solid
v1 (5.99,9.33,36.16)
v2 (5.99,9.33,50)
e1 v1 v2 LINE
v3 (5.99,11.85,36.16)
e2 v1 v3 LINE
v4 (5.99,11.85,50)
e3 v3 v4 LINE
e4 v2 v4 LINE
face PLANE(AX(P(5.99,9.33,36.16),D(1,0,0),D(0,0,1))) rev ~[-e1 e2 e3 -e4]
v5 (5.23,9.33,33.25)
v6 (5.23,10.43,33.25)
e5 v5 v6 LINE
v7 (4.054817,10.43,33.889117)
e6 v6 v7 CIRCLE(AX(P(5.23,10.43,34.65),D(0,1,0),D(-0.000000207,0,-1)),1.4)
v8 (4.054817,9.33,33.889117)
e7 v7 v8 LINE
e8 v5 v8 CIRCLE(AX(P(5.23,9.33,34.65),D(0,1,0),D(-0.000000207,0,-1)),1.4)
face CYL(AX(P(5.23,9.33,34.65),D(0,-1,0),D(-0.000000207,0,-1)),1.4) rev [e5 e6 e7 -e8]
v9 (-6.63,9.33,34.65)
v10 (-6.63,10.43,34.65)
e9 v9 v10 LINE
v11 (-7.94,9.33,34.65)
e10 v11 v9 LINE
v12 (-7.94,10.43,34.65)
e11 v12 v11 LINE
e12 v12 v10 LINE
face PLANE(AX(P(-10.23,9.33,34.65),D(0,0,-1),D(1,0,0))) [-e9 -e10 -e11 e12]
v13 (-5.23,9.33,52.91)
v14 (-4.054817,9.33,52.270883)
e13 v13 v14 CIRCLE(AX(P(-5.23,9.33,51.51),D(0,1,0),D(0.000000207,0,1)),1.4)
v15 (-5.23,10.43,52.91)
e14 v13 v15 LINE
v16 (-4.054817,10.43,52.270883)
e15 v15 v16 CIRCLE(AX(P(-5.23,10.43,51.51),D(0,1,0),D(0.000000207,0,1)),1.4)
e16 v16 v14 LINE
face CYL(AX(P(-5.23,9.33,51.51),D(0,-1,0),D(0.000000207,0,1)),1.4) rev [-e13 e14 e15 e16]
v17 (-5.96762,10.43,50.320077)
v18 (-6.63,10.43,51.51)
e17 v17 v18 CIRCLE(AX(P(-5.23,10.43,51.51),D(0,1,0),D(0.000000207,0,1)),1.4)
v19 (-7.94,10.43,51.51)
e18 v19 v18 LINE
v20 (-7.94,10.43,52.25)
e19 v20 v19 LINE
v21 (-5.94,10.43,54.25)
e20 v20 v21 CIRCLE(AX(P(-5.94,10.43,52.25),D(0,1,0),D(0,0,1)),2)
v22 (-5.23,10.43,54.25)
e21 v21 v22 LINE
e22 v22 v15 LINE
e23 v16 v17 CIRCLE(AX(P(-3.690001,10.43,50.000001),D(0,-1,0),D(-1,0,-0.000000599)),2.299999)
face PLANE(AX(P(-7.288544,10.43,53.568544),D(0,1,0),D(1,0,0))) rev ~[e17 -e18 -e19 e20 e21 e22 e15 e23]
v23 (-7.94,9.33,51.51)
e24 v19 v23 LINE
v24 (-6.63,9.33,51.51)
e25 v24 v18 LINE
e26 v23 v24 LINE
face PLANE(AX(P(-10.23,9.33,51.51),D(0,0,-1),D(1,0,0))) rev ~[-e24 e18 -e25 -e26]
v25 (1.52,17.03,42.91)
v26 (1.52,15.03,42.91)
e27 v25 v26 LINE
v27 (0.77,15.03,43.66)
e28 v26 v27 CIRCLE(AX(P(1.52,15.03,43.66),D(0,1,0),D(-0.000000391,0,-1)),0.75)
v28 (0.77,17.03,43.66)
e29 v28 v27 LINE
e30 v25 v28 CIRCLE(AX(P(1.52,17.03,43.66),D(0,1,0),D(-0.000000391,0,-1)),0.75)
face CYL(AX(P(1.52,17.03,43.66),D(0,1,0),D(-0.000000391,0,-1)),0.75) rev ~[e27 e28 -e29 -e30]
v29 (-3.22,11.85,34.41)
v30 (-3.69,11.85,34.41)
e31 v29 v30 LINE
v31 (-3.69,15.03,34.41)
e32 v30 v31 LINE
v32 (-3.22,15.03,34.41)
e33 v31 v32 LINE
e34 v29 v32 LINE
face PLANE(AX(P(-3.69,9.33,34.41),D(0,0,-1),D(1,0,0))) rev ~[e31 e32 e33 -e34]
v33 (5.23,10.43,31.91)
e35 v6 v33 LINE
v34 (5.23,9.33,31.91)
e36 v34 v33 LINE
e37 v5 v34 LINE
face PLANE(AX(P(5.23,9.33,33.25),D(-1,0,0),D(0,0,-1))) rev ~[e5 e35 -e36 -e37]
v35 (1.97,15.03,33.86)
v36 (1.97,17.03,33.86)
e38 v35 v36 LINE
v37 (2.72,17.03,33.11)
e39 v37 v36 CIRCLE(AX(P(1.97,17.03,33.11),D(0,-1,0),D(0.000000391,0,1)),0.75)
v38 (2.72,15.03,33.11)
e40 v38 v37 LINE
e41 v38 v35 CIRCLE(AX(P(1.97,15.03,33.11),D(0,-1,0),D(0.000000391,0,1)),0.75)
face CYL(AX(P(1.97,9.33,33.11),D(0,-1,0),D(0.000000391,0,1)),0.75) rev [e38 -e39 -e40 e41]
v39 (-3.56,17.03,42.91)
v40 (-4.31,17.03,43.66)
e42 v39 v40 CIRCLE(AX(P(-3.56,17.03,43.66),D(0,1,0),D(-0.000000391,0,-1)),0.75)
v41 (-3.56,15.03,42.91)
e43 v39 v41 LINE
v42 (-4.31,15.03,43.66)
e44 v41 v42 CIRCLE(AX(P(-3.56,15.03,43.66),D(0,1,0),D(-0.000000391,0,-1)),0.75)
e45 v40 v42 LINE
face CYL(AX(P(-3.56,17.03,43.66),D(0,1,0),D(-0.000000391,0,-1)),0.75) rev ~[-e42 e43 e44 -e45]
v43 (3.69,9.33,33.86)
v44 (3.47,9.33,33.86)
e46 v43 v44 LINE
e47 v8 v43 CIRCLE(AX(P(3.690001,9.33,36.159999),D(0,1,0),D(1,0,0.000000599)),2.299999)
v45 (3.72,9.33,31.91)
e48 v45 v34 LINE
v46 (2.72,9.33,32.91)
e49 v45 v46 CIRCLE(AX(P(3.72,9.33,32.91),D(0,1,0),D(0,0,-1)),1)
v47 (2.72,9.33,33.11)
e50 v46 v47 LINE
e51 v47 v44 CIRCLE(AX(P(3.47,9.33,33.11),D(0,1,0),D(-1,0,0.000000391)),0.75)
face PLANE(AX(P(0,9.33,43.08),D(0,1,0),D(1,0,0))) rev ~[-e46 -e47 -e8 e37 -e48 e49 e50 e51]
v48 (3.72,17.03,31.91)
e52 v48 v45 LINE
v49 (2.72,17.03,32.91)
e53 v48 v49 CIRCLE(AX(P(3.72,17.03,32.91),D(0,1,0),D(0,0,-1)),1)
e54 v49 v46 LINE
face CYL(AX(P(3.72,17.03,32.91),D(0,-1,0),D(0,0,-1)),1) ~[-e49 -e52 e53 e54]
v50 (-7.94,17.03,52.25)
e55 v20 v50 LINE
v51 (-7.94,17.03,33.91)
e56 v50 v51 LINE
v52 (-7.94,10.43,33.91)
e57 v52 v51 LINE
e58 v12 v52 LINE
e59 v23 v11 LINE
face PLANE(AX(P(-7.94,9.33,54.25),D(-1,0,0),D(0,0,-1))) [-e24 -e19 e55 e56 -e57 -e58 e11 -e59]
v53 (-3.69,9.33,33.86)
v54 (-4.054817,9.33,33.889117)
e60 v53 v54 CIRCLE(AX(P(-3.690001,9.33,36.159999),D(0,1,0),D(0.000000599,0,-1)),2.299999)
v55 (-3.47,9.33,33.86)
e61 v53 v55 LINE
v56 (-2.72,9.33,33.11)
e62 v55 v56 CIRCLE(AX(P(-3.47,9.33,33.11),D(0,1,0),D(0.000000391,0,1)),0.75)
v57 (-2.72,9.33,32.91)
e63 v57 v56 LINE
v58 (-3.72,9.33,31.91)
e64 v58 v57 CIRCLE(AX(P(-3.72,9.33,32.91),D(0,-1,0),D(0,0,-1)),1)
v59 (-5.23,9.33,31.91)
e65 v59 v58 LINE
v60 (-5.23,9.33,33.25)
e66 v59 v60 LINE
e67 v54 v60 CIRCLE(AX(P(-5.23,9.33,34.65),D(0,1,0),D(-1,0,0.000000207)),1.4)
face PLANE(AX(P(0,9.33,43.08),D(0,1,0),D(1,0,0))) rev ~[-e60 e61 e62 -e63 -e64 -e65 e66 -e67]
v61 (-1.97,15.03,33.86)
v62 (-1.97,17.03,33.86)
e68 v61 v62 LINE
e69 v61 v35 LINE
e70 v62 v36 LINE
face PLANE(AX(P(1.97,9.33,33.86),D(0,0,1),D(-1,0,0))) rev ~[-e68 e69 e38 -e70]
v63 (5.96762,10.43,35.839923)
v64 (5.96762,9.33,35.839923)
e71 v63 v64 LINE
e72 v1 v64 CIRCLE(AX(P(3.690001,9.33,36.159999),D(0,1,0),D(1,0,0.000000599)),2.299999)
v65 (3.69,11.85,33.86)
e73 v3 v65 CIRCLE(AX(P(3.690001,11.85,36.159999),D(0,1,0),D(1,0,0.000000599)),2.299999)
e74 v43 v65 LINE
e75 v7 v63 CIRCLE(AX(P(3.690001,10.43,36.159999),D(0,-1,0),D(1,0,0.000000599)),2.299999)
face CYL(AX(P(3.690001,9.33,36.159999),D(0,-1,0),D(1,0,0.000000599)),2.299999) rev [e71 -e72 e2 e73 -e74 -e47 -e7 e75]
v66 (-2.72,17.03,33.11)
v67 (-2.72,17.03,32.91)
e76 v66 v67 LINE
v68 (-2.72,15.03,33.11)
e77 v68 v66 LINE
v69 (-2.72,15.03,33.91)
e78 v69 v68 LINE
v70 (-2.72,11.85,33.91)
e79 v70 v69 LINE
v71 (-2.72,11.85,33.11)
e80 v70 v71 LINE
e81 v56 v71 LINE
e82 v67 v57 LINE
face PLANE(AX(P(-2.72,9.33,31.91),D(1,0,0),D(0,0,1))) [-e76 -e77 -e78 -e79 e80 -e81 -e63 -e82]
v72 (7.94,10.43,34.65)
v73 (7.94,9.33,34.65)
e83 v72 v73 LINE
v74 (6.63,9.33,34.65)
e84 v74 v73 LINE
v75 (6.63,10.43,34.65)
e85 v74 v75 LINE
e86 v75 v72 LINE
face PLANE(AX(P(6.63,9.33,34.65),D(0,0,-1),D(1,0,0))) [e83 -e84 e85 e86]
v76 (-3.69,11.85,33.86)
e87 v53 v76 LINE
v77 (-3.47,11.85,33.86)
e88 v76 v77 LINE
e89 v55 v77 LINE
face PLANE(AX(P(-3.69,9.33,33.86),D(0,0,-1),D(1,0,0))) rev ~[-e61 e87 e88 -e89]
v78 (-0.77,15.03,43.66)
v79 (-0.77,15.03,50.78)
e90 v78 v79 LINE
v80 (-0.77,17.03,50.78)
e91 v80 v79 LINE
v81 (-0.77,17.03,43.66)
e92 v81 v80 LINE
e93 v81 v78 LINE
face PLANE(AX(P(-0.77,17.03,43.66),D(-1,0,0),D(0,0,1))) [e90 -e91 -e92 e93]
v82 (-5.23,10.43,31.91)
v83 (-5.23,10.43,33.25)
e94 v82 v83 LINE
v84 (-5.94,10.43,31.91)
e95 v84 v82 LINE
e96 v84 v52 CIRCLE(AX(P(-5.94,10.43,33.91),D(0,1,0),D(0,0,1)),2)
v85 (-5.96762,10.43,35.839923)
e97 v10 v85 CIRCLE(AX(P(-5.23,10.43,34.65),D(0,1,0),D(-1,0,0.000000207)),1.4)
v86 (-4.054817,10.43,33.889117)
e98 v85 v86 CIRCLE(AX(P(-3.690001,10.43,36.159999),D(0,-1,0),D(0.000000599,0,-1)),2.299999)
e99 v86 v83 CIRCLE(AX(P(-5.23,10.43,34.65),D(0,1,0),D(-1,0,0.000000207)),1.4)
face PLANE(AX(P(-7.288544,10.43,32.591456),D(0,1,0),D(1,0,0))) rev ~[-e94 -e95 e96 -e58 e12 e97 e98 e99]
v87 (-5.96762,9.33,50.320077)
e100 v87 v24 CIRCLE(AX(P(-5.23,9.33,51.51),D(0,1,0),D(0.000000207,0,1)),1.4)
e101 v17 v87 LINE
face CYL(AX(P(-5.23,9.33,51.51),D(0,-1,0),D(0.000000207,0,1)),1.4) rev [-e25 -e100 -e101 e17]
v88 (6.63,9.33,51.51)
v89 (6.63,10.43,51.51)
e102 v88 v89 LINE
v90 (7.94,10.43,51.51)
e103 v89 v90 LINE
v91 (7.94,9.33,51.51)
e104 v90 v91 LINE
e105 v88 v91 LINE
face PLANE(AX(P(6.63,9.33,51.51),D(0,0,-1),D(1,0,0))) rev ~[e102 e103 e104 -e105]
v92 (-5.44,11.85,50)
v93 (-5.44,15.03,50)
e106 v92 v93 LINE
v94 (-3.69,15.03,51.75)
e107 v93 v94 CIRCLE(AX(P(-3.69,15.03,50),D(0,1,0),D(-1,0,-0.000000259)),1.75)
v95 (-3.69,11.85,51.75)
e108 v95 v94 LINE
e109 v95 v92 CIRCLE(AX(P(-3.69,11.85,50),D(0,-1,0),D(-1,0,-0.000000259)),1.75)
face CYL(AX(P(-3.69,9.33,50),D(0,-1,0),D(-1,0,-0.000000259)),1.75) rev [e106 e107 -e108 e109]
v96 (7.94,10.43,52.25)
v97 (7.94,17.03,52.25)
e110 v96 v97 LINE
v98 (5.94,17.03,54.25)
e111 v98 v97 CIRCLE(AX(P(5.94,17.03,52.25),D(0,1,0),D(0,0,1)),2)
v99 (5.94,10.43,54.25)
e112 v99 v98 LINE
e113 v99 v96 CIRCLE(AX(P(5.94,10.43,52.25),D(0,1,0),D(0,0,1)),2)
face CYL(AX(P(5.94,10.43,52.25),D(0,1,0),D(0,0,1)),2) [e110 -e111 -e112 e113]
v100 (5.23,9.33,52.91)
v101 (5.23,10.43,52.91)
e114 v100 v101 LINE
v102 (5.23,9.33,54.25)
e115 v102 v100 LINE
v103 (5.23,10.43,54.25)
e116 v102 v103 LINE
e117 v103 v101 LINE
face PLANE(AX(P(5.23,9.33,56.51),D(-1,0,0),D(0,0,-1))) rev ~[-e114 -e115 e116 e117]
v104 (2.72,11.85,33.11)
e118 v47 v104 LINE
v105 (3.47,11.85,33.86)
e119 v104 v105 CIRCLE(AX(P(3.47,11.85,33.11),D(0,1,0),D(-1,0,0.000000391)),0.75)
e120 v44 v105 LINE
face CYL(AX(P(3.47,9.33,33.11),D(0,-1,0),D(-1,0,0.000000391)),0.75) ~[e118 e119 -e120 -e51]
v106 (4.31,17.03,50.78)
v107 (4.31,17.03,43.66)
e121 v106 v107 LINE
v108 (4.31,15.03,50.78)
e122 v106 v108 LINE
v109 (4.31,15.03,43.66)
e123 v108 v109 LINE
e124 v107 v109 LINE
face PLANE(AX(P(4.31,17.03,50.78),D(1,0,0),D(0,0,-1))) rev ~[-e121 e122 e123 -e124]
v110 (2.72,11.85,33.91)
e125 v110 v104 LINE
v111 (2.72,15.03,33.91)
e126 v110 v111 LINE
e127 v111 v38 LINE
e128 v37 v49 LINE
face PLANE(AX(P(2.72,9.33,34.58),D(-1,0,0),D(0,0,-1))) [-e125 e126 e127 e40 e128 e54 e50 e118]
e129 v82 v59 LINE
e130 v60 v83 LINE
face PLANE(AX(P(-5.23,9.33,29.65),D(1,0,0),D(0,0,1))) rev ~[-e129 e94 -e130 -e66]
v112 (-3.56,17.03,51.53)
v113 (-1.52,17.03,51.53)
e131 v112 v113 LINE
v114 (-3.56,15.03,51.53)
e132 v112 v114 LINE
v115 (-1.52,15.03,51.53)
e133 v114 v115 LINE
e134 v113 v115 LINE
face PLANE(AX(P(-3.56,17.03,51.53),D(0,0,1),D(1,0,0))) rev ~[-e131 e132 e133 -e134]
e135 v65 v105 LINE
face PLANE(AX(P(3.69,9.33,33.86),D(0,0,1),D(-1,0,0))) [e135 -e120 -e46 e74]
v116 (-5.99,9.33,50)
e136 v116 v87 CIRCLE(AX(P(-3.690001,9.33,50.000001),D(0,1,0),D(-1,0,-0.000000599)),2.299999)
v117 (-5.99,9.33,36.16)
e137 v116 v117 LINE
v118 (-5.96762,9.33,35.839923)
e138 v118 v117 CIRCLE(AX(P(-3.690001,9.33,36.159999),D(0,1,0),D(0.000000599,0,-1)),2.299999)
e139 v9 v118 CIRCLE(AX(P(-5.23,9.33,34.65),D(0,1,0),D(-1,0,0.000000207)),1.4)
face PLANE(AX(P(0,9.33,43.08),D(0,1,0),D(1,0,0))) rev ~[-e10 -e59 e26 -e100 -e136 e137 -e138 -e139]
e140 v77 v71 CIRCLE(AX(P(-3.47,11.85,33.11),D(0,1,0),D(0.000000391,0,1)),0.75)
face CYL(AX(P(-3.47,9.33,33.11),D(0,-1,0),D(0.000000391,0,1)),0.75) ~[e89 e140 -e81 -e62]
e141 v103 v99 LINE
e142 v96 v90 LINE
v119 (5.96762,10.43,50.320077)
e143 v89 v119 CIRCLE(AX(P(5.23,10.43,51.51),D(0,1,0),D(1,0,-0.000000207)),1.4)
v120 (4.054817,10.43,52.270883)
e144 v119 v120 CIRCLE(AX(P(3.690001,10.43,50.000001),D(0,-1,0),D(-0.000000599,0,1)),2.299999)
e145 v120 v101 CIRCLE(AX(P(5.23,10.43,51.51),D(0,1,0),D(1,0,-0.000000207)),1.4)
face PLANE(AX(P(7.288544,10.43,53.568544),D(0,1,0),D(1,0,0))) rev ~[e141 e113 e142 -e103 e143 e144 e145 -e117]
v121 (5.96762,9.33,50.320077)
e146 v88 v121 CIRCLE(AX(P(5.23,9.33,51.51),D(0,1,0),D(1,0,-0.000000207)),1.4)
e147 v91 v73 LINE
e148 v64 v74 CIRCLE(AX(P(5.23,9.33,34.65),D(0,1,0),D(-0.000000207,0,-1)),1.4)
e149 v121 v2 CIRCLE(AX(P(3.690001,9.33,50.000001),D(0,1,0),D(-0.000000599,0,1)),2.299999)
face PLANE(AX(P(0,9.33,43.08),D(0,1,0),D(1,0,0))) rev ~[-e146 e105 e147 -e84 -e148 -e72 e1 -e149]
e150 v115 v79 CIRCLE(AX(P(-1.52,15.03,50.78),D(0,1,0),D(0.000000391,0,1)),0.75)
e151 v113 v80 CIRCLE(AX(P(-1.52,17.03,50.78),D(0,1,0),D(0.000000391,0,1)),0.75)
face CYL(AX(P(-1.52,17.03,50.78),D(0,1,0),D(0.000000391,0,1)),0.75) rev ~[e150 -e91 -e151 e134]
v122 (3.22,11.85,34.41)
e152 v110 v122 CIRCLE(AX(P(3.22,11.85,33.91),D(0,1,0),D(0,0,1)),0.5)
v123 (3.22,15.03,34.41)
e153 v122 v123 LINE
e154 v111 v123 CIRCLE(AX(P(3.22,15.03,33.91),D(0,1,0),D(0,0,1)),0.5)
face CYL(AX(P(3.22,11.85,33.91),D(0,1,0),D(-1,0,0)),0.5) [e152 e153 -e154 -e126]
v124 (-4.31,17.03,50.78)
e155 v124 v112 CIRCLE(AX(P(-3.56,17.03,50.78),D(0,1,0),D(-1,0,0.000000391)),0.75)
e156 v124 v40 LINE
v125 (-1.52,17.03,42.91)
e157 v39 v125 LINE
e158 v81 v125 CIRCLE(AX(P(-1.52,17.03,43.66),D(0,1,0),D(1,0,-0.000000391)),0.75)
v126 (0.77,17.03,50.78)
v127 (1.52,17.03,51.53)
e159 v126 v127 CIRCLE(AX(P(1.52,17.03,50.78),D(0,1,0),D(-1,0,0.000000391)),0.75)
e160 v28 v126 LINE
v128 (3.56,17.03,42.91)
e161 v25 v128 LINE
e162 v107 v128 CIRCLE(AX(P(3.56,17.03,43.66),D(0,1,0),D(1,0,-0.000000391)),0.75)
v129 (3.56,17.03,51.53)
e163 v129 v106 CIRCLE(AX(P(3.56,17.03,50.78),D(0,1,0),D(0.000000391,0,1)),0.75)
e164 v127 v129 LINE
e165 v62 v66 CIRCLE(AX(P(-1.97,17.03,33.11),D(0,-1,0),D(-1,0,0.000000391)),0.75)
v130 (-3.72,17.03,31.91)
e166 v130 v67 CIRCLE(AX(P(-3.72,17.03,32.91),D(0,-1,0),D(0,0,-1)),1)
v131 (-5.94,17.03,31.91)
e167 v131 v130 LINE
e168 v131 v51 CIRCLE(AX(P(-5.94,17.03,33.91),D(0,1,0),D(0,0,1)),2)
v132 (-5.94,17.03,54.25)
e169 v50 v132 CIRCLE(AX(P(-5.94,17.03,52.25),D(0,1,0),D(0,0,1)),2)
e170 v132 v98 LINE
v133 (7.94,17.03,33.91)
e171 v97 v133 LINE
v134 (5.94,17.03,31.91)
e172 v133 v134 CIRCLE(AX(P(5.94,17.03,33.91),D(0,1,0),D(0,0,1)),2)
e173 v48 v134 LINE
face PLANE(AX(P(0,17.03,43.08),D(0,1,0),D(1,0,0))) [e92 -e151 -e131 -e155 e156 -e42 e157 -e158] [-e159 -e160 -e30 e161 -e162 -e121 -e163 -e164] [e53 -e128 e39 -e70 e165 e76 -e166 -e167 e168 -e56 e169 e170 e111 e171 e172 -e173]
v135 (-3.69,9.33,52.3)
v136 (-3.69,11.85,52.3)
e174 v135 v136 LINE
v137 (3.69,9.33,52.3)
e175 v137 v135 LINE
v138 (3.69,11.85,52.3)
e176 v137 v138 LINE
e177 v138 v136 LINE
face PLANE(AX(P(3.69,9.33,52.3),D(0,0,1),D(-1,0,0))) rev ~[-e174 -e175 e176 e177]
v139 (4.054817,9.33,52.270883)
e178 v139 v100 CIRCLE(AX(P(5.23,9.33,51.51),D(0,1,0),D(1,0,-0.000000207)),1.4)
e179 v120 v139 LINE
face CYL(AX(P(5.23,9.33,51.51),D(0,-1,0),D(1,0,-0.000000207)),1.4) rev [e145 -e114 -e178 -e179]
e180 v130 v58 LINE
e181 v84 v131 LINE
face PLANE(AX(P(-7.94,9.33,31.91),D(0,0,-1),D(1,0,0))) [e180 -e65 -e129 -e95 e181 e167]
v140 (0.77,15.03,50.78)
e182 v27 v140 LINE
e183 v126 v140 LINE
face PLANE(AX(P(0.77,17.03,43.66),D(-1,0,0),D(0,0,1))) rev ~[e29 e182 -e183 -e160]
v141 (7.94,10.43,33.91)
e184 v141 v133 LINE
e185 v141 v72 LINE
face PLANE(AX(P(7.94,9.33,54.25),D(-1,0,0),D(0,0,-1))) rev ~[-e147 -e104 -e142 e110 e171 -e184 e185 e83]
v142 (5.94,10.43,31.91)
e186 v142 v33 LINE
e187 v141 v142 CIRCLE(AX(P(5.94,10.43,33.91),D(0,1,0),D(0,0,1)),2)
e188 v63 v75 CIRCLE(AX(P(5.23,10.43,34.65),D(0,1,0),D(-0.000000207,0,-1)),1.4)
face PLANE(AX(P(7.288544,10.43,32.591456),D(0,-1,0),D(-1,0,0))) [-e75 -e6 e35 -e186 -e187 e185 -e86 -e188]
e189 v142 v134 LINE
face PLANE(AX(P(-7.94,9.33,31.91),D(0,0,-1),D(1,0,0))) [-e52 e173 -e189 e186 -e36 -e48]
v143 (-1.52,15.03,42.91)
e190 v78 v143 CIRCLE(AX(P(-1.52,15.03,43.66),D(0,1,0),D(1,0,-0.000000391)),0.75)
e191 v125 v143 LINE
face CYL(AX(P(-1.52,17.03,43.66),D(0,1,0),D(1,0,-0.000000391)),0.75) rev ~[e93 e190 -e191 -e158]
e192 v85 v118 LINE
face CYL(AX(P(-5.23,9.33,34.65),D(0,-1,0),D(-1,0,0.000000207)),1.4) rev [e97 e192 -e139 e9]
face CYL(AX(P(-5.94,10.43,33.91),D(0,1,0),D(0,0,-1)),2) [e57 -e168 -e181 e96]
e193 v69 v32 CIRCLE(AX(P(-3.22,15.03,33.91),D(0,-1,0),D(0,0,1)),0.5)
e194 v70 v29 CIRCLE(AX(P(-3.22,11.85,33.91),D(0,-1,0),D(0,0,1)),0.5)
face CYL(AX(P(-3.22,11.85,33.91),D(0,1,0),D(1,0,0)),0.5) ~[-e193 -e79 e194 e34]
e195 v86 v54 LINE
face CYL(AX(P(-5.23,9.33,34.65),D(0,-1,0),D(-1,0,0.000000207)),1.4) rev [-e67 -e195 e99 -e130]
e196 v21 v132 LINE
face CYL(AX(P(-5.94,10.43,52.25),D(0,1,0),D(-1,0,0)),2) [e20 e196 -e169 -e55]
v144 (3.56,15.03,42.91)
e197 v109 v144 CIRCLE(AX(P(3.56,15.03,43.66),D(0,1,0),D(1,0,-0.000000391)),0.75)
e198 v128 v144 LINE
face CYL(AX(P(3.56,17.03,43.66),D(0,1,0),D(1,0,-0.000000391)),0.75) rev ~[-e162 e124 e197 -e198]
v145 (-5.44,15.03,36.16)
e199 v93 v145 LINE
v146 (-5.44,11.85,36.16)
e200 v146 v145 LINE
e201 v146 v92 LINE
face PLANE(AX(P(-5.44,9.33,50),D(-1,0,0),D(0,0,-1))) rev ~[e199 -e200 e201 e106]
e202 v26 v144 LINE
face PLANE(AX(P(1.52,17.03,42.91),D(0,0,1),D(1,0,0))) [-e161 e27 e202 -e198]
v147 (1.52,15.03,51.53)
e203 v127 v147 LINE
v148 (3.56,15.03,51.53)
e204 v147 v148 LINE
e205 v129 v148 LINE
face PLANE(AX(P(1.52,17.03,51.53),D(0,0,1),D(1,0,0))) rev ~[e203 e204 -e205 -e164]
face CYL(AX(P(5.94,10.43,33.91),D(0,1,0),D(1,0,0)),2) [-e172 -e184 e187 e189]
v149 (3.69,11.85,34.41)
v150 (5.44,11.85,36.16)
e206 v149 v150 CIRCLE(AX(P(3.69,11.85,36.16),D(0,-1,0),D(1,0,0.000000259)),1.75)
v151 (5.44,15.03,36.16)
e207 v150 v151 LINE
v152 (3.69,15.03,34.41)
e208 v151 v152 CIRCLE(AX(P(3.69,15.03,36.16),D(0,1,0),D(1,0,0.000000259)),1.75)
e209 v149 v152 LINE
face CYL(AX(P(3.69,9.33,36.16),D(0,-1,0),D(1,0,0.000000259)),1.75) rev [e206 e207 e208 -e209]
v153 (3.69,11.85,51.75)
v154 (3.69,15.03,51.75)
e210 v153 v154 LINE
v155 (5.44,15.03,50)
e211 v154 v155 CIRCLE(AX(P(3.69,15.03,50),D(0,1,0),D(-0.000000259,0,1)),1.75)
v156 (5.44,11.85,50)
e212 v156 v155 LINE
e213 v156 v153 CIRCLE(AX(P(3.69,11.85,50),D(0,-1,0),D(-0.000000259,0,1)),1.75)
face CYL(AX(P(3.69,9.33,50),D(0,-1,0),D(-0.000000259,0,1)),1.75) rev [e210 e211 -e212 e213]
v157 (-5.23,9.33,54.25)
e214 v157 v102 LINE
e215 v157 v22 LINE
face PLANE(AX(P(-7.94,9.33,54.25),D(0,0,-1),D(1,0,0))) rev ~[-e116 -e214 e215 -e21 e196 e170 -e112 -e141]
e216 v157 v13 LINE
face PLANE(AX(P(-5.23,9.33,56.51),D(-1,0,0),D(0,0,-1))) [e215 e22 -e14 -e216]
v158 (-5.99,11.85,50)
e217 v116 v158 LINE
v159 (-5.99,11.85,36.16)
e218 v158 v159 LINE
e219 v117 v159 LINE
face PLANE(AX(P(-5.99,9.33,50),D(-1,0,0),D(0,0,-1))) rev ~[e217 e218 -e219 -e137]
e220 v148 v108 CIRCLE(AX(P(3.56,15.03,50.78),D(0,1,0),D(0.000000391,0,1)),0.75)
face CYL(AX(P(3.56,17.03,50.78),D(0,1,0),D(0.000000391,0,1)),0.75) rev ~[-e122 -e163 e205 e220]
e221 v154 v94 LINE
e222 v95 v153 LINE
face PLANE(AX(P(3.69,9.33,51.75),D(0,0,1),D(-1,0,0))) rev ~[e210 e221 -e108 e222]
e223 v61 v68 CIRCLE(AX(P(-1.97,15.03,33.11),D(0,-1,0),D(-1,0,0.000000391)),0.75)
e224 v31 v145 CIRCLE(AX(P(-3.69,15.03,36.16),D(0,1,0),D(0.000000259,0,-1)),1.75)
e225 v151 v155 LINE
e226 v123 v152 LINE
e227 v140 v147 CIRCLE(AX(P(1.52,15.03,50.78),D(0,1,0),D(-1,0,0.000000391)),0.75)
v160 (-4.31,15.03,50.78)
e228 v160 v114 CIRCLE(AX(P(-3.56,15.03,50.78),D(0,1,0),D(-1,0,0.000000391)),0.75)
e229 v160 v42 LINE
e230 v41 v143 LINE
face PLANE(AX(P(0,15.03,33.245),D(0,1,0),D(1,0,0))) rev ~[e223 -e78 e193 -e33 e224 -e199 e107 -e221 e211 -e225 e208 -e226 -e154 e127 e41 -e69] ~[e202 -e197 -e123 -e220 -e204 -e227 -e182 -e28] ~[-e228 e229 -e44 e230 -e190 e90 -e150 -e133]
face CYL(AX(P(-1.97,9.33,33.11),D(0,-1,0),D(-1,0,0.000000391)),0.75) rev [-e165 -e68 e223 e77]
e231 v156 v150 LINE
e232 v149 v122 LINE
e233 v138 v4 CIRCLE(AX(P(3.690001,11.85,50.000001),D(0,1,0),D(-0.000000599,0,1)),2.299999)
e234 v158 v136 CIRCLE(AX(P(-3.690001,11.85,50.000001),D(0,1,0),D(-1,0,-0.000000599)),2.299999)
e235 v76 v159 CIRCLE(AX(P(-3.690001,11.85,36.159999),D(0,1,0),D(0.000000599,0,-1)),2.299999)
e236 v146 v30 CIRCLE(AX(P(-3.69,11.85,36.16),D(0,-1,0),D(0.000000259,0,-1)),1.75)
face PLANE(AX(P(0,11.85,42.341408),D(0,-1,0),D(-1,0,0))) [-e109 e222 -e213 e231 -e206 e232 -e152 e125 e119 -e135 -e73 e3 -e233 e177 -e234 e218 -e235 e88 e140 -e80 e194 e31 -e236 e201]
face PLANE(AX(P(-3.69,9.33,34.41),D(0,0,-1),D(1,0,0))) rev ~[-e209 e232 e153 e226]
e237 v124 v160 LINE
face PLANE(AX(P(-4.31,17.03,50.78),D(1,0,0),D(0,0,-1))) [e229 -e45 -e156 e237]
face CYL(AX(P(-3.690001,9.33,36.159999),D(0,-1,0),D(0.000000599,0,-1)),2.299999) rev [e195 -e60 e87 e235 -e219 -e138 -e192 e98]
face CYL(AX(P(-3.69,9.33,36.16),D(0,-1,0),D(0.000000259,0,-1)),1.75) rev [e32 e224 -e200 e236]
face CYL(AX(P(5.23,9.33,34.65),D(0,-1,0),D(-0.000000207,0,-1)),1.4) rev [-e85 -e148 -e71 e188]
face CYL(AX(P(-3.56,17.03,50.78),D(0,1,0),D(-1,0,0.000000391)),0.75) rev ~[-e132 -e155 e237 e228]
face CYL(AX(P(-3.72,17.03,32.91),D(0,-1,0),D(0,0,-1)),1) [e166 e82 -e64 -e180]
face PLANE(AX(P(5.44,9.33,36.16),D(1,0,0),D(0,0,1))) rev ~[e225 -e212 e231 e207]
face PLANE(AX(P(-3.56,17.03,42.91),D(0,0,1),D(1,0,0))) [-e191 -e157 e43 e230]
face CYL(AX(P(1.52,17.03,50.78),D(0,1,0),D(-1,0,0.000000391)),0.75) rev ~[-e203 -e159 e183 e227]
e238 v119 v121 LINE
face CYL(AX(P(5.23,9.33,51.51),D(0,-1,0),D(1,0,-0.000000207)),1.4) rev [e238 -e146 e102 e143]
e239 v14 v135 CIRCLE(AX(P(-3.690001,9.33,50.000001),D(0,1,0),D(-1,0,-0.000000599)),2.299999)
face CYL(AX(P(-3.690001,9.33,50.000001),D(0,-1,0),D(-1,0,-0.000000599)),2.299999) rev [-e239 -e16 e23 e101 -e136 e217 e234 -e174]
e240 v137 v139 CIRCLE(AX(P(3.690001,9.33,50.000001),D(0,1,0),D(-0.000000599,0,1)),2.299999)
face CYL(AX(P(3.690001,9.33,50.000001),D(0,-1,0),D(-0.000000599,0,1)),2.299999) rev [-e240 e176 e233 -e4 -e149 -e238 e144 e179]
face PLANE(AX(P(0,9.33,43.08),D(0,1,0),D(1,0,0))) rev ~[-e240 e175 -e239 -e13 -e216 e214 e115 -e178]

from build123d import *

# Parameters (mm, degrees)
SKETCH003_W             = 15.88
SKETCH003_H             = 22.34
PAD001_DEPTH            = 7.7
POCKET002_DEPTH         = 5.7
POCKET003_DEPTH         = 2.52
SKETCH007_W             = 5.44
SKETCH007_H             = 2.67
POCKET004_DEPTH         = 5.7
POCKET005_DEPTH         = 7.701
POCKET006_DEPTH         = 2
POCKET007_DEPTH         = 1.1
FILLET_R                = 1
FILLET001_R             = 2
FILLET011_R             = 0.5
BODY001_PLACEMENT_ANGLE = 270


with BuildPart() as part:
    # Sketch003 (on XY_Plane013 of Origin026) → Pad001 (new body)
    with BuildSketch(Plane.XY):
        Rectangle(SKETCH003_W, SKETCH003_H)
    extrude(amount=PAD001_DEPTH)

    # Sketch004 (on XY_Plane013 of Origin026) → Pocket002 (cut)
    with BuildSketch(Plane.XY):
        with BuildLine():
            Line((-3.69, 8.67), (3.69, 8.67))
            ThreePointArc((5.44, 6.92), (4.927437, 8.157437), (3.69, 8.67))
            Line((5.44, 6.92), (5.44, -6.92))
            ThreePointArc((3.69, -8.67), (4.927437, -8.157437), (5.44, -6.92))
            Line((3.69, -8.67), (-3.69, -8.67))
            ThreePointArc((-5.44, -6.92), (-4.927437, -8.157437), (-3.69, -8.67))
            Line((-5.44, -6.92), (-5.44, 6.92))
            ThreePointArc((-3.69, 8.67), (-4.927437, 8.157437), (-5.44, 6.92))
        make_face()
    extrude(amount=POCKET002_DEPTH, mode=Mode.SUBTRACT)

    # Sketch006 (on XY_Plane013 of Origin026) → Pocket003 (cut)
    with BuildSketch(Plane.XY):
        with BuildLine():
            Line((5.99, 6.92), (5.99, -6.92))
            ThreePointArc((3.69, -9.22), (5.316346, -8.546346), (5.99, -6.92))
            Line((3.69, -9.22), (-3.69, -9.22))
            ThreePointArc((-5.99, -6.92), (-5.316346, -8.546346), (-3.69, -9.22))
            Line((-5.99, -6.92), (-5.99, 6.92))
            ThreePointArc((-3.69, 9.22), (-5.316346, 8.546346), (-5.99, 6.92))
            Line((-3.69, 9.22), (-3.47, 9.22))
            ThreePointArc((-3.47, 9.22), (-2.93967, 9.43967), (-2.72, 9.97))
            Line((-2.72, 11.17), (-2.72, 9.97))
            Line((2.72, 11.17), (-2.72, 11.17))
            Line((2.72, 11.17), (2.72, 9.97))
            ThreePointArc((2.72, 9.97), (2.93967, 9.43967), (3.47, 9.22))
            Line((3.69, 9.22), (3.47, 9.22))
            ThreePointArc((5.99, 6.92), (5.316346, 8.546346), (3.69, 9.22))
        make_face()
    extrude(amount=POCKET003_DEPTH, mode=Mode.SUBTRACT)

    # Sketch007 (on XY_Plane013 of Origin026) → Pocket004 (cut)
    with BuildSketch(Plane.XY):
        with Locations((0, 9.835)):
            Rectangle(SKETCH007_W, SKETCH007_H)
    extrude(amount=POCKET004_DEPTH, mode=Mode.SUBTRACT)

    # Sketch008 (on XY_Plane013 of Origin026) → Pocket005 (cut, through all)
    with BuildSketch(Plane.XY):
        with BuildLine():
            Line((2.72, 11.17), (2.72, 9.97))
            ThreePointArc((1.97, 9.22), (2.50033, 9.43967), (2.72, 9.97))
            Line((1.97, 9.22), (-1.97, 9.22))
            ThreePointArc((-2.72, 9.97), (-2.50033, 9.43967), (-1.97, 9.22))
            Line((-2.72, 11.17), (-2.72, 9.97))
            Line((2.72, 11.17), (-2.72, 11.17))
        make_face()
    extrude(amount=POCKET005_DEPTH, mode=Mode.SUBTRACT)

    # Sketch009 (on XY_Plane013 of Origin026) → Pocket006 (cut)
    with BuildSketch(Plane.XY.offset(7.7)):
        with BuildLine():
            Line((-0.77, -0.58), (-0.77, -7.7))
            ThreePointArc((-1.52, -8.45), (-0.98967, -8.23033), (-0.77, -7.7))
            Line((-3.56, -8.45), (-1.52, -8.45))
            ThreePointArc((-4.31, -7.7), (-4.09033, -8.23033), (-3.56, -8.45))
            Line((-4.31, -7.7), (-4.31, -0.58))
            ThreePointArc((-3.56, 0.17), (-4.09033, -0.04967), (-4.31, -0.58))
            Line((-3.56, 0.17), (-1.52, 0.17))
            ThreePointArc((-0.77, -0.58), (-0.98967, -0.04967), (-1.52, 0.17))
        make_face()
        with BuildLine():
            Line((0.77, -0.58), (0.77, -7.7))
            ThreePointArc((0.77, -7.7), (0.98967, -8.23033), (1.52, -8.45))
            Line((1.52, -8.45), (3.56, -8.45))
            ThreePointArc((3.56, -8.45), (4.09033, -8.23033), (4.31, -7.7))
            Line((4.31, -7.7), (4.31, -0.58))
            ThreePointArc((4.31, -0.58), (4.09033, -0.04967), (3.56, 0.17))
            Line((1.52, 0.17), (3.56, 0.17))
            ThreePointArc((1.52, 0.17), (0.98967, -0.04967), (0.77, -0.58))
        make_face()
    extrude(amount=-POCKET006_DEPTH, mode=Mode.SUBTRACT)

    # Sketch010 (on XY_Plane013 of Origin026) → Pocket007 (cut)
    with BuildSketch(Plane.XY):
        with BuildLine():
            Line((5.23, 13.43), (10.23, 13.43))
            Line((10.23, 13.43), (10.23, 8.43))
            Line((6.63, 8.43), (10.23, 8.43))
            ThreePointArc((5.23, 9.83), (4.240051, 7.440051), (6.63, 8.43))
            Line((5.23, 9.83), (5.23, 13.43))
        make_face()
        with BuildLine():
            Line((-5.23, 13.43), (-10.23, 13.43))
            Line((-10.23, 13.43), (-10.23, 8.43))
            Line((-10.23, 8.43), (-6.63, 8.43))
            ThreePointArc((-6.63, 8.43), (-4.240051, 7.440051), (-5.23, 9.83))
            Line((-5.23, 13.43), (-5.23, 9.83))
        make_face()
        with BuildLine():
            Line((5.23, -13.43), (10.23, -13.43))
            Line((10.23, -13.43), (10.23, -8.43))
            Line((6.63, -8.43), (10.23, -8.43))
            ThreePointArc((6.63, -8.43), (4.240051, -7.440051), (5.23, -9.83))
            Line((5.23, -13.43), (5.23, -9.83))
        make_face()
        with BuildLine():
            Line((-10.23, -13.43), (-5.23, -13.43))
            Line((-5.23, -13.43), (-5.23, -9.83))
            ThreePointArc((-5.23, -9.83), (-4.240051, -7.440051), (-6.63, -8.43))
            Line((-10.23, -8.43), (-6.63, -8.43))
            Line((-10.23, -13.43), (-10.23, -8.43))
        make_face()
    extrude(amount=POCKET007_DEPTH, mode=Mode.SUBTRACT)

    # Fillet
    fillet_edges = [part.edges().sort_by_distance(p)[0] for p in [
        (2.72, 11.17, 3.85),
        (-2.72, 11.17, 3.85),
    ]]
    fillet(fillet_edges, radius=FILLET_R)

    # Fillet001
    fillet001_edges = [part.edges().sort_by_distance(p)[0] for p in [
        (7.94, 11.17, 4.4),
        (-7.94, 11.17, 4.4),
        (-7.94, -11.17, 4.4),
        (7.94, -11.17, 4.4),
    ]]
    fillet(fillet001_edges, radius=FILLET001_R)

    # Fillet011
    fillet011_edges = [part.edges().sort_by_distance(p)[0] for p in [
        (2.72, 8.67, 4.11),
        (-2.72, 8.67, 4.11),
    ]]
    fillet(fillet011_edges, radius=FILLET011_R)


with BuildPart() as part_1:
    # Body001 placement: moved
    add(part.part.moved(Location((0, 9.33, 43.08))).rotate(Axis((0, 9.33, 43.08), (1, 0, 0)), BODY001_PLACEMENT_ANGLE))


solid = part_1.part
